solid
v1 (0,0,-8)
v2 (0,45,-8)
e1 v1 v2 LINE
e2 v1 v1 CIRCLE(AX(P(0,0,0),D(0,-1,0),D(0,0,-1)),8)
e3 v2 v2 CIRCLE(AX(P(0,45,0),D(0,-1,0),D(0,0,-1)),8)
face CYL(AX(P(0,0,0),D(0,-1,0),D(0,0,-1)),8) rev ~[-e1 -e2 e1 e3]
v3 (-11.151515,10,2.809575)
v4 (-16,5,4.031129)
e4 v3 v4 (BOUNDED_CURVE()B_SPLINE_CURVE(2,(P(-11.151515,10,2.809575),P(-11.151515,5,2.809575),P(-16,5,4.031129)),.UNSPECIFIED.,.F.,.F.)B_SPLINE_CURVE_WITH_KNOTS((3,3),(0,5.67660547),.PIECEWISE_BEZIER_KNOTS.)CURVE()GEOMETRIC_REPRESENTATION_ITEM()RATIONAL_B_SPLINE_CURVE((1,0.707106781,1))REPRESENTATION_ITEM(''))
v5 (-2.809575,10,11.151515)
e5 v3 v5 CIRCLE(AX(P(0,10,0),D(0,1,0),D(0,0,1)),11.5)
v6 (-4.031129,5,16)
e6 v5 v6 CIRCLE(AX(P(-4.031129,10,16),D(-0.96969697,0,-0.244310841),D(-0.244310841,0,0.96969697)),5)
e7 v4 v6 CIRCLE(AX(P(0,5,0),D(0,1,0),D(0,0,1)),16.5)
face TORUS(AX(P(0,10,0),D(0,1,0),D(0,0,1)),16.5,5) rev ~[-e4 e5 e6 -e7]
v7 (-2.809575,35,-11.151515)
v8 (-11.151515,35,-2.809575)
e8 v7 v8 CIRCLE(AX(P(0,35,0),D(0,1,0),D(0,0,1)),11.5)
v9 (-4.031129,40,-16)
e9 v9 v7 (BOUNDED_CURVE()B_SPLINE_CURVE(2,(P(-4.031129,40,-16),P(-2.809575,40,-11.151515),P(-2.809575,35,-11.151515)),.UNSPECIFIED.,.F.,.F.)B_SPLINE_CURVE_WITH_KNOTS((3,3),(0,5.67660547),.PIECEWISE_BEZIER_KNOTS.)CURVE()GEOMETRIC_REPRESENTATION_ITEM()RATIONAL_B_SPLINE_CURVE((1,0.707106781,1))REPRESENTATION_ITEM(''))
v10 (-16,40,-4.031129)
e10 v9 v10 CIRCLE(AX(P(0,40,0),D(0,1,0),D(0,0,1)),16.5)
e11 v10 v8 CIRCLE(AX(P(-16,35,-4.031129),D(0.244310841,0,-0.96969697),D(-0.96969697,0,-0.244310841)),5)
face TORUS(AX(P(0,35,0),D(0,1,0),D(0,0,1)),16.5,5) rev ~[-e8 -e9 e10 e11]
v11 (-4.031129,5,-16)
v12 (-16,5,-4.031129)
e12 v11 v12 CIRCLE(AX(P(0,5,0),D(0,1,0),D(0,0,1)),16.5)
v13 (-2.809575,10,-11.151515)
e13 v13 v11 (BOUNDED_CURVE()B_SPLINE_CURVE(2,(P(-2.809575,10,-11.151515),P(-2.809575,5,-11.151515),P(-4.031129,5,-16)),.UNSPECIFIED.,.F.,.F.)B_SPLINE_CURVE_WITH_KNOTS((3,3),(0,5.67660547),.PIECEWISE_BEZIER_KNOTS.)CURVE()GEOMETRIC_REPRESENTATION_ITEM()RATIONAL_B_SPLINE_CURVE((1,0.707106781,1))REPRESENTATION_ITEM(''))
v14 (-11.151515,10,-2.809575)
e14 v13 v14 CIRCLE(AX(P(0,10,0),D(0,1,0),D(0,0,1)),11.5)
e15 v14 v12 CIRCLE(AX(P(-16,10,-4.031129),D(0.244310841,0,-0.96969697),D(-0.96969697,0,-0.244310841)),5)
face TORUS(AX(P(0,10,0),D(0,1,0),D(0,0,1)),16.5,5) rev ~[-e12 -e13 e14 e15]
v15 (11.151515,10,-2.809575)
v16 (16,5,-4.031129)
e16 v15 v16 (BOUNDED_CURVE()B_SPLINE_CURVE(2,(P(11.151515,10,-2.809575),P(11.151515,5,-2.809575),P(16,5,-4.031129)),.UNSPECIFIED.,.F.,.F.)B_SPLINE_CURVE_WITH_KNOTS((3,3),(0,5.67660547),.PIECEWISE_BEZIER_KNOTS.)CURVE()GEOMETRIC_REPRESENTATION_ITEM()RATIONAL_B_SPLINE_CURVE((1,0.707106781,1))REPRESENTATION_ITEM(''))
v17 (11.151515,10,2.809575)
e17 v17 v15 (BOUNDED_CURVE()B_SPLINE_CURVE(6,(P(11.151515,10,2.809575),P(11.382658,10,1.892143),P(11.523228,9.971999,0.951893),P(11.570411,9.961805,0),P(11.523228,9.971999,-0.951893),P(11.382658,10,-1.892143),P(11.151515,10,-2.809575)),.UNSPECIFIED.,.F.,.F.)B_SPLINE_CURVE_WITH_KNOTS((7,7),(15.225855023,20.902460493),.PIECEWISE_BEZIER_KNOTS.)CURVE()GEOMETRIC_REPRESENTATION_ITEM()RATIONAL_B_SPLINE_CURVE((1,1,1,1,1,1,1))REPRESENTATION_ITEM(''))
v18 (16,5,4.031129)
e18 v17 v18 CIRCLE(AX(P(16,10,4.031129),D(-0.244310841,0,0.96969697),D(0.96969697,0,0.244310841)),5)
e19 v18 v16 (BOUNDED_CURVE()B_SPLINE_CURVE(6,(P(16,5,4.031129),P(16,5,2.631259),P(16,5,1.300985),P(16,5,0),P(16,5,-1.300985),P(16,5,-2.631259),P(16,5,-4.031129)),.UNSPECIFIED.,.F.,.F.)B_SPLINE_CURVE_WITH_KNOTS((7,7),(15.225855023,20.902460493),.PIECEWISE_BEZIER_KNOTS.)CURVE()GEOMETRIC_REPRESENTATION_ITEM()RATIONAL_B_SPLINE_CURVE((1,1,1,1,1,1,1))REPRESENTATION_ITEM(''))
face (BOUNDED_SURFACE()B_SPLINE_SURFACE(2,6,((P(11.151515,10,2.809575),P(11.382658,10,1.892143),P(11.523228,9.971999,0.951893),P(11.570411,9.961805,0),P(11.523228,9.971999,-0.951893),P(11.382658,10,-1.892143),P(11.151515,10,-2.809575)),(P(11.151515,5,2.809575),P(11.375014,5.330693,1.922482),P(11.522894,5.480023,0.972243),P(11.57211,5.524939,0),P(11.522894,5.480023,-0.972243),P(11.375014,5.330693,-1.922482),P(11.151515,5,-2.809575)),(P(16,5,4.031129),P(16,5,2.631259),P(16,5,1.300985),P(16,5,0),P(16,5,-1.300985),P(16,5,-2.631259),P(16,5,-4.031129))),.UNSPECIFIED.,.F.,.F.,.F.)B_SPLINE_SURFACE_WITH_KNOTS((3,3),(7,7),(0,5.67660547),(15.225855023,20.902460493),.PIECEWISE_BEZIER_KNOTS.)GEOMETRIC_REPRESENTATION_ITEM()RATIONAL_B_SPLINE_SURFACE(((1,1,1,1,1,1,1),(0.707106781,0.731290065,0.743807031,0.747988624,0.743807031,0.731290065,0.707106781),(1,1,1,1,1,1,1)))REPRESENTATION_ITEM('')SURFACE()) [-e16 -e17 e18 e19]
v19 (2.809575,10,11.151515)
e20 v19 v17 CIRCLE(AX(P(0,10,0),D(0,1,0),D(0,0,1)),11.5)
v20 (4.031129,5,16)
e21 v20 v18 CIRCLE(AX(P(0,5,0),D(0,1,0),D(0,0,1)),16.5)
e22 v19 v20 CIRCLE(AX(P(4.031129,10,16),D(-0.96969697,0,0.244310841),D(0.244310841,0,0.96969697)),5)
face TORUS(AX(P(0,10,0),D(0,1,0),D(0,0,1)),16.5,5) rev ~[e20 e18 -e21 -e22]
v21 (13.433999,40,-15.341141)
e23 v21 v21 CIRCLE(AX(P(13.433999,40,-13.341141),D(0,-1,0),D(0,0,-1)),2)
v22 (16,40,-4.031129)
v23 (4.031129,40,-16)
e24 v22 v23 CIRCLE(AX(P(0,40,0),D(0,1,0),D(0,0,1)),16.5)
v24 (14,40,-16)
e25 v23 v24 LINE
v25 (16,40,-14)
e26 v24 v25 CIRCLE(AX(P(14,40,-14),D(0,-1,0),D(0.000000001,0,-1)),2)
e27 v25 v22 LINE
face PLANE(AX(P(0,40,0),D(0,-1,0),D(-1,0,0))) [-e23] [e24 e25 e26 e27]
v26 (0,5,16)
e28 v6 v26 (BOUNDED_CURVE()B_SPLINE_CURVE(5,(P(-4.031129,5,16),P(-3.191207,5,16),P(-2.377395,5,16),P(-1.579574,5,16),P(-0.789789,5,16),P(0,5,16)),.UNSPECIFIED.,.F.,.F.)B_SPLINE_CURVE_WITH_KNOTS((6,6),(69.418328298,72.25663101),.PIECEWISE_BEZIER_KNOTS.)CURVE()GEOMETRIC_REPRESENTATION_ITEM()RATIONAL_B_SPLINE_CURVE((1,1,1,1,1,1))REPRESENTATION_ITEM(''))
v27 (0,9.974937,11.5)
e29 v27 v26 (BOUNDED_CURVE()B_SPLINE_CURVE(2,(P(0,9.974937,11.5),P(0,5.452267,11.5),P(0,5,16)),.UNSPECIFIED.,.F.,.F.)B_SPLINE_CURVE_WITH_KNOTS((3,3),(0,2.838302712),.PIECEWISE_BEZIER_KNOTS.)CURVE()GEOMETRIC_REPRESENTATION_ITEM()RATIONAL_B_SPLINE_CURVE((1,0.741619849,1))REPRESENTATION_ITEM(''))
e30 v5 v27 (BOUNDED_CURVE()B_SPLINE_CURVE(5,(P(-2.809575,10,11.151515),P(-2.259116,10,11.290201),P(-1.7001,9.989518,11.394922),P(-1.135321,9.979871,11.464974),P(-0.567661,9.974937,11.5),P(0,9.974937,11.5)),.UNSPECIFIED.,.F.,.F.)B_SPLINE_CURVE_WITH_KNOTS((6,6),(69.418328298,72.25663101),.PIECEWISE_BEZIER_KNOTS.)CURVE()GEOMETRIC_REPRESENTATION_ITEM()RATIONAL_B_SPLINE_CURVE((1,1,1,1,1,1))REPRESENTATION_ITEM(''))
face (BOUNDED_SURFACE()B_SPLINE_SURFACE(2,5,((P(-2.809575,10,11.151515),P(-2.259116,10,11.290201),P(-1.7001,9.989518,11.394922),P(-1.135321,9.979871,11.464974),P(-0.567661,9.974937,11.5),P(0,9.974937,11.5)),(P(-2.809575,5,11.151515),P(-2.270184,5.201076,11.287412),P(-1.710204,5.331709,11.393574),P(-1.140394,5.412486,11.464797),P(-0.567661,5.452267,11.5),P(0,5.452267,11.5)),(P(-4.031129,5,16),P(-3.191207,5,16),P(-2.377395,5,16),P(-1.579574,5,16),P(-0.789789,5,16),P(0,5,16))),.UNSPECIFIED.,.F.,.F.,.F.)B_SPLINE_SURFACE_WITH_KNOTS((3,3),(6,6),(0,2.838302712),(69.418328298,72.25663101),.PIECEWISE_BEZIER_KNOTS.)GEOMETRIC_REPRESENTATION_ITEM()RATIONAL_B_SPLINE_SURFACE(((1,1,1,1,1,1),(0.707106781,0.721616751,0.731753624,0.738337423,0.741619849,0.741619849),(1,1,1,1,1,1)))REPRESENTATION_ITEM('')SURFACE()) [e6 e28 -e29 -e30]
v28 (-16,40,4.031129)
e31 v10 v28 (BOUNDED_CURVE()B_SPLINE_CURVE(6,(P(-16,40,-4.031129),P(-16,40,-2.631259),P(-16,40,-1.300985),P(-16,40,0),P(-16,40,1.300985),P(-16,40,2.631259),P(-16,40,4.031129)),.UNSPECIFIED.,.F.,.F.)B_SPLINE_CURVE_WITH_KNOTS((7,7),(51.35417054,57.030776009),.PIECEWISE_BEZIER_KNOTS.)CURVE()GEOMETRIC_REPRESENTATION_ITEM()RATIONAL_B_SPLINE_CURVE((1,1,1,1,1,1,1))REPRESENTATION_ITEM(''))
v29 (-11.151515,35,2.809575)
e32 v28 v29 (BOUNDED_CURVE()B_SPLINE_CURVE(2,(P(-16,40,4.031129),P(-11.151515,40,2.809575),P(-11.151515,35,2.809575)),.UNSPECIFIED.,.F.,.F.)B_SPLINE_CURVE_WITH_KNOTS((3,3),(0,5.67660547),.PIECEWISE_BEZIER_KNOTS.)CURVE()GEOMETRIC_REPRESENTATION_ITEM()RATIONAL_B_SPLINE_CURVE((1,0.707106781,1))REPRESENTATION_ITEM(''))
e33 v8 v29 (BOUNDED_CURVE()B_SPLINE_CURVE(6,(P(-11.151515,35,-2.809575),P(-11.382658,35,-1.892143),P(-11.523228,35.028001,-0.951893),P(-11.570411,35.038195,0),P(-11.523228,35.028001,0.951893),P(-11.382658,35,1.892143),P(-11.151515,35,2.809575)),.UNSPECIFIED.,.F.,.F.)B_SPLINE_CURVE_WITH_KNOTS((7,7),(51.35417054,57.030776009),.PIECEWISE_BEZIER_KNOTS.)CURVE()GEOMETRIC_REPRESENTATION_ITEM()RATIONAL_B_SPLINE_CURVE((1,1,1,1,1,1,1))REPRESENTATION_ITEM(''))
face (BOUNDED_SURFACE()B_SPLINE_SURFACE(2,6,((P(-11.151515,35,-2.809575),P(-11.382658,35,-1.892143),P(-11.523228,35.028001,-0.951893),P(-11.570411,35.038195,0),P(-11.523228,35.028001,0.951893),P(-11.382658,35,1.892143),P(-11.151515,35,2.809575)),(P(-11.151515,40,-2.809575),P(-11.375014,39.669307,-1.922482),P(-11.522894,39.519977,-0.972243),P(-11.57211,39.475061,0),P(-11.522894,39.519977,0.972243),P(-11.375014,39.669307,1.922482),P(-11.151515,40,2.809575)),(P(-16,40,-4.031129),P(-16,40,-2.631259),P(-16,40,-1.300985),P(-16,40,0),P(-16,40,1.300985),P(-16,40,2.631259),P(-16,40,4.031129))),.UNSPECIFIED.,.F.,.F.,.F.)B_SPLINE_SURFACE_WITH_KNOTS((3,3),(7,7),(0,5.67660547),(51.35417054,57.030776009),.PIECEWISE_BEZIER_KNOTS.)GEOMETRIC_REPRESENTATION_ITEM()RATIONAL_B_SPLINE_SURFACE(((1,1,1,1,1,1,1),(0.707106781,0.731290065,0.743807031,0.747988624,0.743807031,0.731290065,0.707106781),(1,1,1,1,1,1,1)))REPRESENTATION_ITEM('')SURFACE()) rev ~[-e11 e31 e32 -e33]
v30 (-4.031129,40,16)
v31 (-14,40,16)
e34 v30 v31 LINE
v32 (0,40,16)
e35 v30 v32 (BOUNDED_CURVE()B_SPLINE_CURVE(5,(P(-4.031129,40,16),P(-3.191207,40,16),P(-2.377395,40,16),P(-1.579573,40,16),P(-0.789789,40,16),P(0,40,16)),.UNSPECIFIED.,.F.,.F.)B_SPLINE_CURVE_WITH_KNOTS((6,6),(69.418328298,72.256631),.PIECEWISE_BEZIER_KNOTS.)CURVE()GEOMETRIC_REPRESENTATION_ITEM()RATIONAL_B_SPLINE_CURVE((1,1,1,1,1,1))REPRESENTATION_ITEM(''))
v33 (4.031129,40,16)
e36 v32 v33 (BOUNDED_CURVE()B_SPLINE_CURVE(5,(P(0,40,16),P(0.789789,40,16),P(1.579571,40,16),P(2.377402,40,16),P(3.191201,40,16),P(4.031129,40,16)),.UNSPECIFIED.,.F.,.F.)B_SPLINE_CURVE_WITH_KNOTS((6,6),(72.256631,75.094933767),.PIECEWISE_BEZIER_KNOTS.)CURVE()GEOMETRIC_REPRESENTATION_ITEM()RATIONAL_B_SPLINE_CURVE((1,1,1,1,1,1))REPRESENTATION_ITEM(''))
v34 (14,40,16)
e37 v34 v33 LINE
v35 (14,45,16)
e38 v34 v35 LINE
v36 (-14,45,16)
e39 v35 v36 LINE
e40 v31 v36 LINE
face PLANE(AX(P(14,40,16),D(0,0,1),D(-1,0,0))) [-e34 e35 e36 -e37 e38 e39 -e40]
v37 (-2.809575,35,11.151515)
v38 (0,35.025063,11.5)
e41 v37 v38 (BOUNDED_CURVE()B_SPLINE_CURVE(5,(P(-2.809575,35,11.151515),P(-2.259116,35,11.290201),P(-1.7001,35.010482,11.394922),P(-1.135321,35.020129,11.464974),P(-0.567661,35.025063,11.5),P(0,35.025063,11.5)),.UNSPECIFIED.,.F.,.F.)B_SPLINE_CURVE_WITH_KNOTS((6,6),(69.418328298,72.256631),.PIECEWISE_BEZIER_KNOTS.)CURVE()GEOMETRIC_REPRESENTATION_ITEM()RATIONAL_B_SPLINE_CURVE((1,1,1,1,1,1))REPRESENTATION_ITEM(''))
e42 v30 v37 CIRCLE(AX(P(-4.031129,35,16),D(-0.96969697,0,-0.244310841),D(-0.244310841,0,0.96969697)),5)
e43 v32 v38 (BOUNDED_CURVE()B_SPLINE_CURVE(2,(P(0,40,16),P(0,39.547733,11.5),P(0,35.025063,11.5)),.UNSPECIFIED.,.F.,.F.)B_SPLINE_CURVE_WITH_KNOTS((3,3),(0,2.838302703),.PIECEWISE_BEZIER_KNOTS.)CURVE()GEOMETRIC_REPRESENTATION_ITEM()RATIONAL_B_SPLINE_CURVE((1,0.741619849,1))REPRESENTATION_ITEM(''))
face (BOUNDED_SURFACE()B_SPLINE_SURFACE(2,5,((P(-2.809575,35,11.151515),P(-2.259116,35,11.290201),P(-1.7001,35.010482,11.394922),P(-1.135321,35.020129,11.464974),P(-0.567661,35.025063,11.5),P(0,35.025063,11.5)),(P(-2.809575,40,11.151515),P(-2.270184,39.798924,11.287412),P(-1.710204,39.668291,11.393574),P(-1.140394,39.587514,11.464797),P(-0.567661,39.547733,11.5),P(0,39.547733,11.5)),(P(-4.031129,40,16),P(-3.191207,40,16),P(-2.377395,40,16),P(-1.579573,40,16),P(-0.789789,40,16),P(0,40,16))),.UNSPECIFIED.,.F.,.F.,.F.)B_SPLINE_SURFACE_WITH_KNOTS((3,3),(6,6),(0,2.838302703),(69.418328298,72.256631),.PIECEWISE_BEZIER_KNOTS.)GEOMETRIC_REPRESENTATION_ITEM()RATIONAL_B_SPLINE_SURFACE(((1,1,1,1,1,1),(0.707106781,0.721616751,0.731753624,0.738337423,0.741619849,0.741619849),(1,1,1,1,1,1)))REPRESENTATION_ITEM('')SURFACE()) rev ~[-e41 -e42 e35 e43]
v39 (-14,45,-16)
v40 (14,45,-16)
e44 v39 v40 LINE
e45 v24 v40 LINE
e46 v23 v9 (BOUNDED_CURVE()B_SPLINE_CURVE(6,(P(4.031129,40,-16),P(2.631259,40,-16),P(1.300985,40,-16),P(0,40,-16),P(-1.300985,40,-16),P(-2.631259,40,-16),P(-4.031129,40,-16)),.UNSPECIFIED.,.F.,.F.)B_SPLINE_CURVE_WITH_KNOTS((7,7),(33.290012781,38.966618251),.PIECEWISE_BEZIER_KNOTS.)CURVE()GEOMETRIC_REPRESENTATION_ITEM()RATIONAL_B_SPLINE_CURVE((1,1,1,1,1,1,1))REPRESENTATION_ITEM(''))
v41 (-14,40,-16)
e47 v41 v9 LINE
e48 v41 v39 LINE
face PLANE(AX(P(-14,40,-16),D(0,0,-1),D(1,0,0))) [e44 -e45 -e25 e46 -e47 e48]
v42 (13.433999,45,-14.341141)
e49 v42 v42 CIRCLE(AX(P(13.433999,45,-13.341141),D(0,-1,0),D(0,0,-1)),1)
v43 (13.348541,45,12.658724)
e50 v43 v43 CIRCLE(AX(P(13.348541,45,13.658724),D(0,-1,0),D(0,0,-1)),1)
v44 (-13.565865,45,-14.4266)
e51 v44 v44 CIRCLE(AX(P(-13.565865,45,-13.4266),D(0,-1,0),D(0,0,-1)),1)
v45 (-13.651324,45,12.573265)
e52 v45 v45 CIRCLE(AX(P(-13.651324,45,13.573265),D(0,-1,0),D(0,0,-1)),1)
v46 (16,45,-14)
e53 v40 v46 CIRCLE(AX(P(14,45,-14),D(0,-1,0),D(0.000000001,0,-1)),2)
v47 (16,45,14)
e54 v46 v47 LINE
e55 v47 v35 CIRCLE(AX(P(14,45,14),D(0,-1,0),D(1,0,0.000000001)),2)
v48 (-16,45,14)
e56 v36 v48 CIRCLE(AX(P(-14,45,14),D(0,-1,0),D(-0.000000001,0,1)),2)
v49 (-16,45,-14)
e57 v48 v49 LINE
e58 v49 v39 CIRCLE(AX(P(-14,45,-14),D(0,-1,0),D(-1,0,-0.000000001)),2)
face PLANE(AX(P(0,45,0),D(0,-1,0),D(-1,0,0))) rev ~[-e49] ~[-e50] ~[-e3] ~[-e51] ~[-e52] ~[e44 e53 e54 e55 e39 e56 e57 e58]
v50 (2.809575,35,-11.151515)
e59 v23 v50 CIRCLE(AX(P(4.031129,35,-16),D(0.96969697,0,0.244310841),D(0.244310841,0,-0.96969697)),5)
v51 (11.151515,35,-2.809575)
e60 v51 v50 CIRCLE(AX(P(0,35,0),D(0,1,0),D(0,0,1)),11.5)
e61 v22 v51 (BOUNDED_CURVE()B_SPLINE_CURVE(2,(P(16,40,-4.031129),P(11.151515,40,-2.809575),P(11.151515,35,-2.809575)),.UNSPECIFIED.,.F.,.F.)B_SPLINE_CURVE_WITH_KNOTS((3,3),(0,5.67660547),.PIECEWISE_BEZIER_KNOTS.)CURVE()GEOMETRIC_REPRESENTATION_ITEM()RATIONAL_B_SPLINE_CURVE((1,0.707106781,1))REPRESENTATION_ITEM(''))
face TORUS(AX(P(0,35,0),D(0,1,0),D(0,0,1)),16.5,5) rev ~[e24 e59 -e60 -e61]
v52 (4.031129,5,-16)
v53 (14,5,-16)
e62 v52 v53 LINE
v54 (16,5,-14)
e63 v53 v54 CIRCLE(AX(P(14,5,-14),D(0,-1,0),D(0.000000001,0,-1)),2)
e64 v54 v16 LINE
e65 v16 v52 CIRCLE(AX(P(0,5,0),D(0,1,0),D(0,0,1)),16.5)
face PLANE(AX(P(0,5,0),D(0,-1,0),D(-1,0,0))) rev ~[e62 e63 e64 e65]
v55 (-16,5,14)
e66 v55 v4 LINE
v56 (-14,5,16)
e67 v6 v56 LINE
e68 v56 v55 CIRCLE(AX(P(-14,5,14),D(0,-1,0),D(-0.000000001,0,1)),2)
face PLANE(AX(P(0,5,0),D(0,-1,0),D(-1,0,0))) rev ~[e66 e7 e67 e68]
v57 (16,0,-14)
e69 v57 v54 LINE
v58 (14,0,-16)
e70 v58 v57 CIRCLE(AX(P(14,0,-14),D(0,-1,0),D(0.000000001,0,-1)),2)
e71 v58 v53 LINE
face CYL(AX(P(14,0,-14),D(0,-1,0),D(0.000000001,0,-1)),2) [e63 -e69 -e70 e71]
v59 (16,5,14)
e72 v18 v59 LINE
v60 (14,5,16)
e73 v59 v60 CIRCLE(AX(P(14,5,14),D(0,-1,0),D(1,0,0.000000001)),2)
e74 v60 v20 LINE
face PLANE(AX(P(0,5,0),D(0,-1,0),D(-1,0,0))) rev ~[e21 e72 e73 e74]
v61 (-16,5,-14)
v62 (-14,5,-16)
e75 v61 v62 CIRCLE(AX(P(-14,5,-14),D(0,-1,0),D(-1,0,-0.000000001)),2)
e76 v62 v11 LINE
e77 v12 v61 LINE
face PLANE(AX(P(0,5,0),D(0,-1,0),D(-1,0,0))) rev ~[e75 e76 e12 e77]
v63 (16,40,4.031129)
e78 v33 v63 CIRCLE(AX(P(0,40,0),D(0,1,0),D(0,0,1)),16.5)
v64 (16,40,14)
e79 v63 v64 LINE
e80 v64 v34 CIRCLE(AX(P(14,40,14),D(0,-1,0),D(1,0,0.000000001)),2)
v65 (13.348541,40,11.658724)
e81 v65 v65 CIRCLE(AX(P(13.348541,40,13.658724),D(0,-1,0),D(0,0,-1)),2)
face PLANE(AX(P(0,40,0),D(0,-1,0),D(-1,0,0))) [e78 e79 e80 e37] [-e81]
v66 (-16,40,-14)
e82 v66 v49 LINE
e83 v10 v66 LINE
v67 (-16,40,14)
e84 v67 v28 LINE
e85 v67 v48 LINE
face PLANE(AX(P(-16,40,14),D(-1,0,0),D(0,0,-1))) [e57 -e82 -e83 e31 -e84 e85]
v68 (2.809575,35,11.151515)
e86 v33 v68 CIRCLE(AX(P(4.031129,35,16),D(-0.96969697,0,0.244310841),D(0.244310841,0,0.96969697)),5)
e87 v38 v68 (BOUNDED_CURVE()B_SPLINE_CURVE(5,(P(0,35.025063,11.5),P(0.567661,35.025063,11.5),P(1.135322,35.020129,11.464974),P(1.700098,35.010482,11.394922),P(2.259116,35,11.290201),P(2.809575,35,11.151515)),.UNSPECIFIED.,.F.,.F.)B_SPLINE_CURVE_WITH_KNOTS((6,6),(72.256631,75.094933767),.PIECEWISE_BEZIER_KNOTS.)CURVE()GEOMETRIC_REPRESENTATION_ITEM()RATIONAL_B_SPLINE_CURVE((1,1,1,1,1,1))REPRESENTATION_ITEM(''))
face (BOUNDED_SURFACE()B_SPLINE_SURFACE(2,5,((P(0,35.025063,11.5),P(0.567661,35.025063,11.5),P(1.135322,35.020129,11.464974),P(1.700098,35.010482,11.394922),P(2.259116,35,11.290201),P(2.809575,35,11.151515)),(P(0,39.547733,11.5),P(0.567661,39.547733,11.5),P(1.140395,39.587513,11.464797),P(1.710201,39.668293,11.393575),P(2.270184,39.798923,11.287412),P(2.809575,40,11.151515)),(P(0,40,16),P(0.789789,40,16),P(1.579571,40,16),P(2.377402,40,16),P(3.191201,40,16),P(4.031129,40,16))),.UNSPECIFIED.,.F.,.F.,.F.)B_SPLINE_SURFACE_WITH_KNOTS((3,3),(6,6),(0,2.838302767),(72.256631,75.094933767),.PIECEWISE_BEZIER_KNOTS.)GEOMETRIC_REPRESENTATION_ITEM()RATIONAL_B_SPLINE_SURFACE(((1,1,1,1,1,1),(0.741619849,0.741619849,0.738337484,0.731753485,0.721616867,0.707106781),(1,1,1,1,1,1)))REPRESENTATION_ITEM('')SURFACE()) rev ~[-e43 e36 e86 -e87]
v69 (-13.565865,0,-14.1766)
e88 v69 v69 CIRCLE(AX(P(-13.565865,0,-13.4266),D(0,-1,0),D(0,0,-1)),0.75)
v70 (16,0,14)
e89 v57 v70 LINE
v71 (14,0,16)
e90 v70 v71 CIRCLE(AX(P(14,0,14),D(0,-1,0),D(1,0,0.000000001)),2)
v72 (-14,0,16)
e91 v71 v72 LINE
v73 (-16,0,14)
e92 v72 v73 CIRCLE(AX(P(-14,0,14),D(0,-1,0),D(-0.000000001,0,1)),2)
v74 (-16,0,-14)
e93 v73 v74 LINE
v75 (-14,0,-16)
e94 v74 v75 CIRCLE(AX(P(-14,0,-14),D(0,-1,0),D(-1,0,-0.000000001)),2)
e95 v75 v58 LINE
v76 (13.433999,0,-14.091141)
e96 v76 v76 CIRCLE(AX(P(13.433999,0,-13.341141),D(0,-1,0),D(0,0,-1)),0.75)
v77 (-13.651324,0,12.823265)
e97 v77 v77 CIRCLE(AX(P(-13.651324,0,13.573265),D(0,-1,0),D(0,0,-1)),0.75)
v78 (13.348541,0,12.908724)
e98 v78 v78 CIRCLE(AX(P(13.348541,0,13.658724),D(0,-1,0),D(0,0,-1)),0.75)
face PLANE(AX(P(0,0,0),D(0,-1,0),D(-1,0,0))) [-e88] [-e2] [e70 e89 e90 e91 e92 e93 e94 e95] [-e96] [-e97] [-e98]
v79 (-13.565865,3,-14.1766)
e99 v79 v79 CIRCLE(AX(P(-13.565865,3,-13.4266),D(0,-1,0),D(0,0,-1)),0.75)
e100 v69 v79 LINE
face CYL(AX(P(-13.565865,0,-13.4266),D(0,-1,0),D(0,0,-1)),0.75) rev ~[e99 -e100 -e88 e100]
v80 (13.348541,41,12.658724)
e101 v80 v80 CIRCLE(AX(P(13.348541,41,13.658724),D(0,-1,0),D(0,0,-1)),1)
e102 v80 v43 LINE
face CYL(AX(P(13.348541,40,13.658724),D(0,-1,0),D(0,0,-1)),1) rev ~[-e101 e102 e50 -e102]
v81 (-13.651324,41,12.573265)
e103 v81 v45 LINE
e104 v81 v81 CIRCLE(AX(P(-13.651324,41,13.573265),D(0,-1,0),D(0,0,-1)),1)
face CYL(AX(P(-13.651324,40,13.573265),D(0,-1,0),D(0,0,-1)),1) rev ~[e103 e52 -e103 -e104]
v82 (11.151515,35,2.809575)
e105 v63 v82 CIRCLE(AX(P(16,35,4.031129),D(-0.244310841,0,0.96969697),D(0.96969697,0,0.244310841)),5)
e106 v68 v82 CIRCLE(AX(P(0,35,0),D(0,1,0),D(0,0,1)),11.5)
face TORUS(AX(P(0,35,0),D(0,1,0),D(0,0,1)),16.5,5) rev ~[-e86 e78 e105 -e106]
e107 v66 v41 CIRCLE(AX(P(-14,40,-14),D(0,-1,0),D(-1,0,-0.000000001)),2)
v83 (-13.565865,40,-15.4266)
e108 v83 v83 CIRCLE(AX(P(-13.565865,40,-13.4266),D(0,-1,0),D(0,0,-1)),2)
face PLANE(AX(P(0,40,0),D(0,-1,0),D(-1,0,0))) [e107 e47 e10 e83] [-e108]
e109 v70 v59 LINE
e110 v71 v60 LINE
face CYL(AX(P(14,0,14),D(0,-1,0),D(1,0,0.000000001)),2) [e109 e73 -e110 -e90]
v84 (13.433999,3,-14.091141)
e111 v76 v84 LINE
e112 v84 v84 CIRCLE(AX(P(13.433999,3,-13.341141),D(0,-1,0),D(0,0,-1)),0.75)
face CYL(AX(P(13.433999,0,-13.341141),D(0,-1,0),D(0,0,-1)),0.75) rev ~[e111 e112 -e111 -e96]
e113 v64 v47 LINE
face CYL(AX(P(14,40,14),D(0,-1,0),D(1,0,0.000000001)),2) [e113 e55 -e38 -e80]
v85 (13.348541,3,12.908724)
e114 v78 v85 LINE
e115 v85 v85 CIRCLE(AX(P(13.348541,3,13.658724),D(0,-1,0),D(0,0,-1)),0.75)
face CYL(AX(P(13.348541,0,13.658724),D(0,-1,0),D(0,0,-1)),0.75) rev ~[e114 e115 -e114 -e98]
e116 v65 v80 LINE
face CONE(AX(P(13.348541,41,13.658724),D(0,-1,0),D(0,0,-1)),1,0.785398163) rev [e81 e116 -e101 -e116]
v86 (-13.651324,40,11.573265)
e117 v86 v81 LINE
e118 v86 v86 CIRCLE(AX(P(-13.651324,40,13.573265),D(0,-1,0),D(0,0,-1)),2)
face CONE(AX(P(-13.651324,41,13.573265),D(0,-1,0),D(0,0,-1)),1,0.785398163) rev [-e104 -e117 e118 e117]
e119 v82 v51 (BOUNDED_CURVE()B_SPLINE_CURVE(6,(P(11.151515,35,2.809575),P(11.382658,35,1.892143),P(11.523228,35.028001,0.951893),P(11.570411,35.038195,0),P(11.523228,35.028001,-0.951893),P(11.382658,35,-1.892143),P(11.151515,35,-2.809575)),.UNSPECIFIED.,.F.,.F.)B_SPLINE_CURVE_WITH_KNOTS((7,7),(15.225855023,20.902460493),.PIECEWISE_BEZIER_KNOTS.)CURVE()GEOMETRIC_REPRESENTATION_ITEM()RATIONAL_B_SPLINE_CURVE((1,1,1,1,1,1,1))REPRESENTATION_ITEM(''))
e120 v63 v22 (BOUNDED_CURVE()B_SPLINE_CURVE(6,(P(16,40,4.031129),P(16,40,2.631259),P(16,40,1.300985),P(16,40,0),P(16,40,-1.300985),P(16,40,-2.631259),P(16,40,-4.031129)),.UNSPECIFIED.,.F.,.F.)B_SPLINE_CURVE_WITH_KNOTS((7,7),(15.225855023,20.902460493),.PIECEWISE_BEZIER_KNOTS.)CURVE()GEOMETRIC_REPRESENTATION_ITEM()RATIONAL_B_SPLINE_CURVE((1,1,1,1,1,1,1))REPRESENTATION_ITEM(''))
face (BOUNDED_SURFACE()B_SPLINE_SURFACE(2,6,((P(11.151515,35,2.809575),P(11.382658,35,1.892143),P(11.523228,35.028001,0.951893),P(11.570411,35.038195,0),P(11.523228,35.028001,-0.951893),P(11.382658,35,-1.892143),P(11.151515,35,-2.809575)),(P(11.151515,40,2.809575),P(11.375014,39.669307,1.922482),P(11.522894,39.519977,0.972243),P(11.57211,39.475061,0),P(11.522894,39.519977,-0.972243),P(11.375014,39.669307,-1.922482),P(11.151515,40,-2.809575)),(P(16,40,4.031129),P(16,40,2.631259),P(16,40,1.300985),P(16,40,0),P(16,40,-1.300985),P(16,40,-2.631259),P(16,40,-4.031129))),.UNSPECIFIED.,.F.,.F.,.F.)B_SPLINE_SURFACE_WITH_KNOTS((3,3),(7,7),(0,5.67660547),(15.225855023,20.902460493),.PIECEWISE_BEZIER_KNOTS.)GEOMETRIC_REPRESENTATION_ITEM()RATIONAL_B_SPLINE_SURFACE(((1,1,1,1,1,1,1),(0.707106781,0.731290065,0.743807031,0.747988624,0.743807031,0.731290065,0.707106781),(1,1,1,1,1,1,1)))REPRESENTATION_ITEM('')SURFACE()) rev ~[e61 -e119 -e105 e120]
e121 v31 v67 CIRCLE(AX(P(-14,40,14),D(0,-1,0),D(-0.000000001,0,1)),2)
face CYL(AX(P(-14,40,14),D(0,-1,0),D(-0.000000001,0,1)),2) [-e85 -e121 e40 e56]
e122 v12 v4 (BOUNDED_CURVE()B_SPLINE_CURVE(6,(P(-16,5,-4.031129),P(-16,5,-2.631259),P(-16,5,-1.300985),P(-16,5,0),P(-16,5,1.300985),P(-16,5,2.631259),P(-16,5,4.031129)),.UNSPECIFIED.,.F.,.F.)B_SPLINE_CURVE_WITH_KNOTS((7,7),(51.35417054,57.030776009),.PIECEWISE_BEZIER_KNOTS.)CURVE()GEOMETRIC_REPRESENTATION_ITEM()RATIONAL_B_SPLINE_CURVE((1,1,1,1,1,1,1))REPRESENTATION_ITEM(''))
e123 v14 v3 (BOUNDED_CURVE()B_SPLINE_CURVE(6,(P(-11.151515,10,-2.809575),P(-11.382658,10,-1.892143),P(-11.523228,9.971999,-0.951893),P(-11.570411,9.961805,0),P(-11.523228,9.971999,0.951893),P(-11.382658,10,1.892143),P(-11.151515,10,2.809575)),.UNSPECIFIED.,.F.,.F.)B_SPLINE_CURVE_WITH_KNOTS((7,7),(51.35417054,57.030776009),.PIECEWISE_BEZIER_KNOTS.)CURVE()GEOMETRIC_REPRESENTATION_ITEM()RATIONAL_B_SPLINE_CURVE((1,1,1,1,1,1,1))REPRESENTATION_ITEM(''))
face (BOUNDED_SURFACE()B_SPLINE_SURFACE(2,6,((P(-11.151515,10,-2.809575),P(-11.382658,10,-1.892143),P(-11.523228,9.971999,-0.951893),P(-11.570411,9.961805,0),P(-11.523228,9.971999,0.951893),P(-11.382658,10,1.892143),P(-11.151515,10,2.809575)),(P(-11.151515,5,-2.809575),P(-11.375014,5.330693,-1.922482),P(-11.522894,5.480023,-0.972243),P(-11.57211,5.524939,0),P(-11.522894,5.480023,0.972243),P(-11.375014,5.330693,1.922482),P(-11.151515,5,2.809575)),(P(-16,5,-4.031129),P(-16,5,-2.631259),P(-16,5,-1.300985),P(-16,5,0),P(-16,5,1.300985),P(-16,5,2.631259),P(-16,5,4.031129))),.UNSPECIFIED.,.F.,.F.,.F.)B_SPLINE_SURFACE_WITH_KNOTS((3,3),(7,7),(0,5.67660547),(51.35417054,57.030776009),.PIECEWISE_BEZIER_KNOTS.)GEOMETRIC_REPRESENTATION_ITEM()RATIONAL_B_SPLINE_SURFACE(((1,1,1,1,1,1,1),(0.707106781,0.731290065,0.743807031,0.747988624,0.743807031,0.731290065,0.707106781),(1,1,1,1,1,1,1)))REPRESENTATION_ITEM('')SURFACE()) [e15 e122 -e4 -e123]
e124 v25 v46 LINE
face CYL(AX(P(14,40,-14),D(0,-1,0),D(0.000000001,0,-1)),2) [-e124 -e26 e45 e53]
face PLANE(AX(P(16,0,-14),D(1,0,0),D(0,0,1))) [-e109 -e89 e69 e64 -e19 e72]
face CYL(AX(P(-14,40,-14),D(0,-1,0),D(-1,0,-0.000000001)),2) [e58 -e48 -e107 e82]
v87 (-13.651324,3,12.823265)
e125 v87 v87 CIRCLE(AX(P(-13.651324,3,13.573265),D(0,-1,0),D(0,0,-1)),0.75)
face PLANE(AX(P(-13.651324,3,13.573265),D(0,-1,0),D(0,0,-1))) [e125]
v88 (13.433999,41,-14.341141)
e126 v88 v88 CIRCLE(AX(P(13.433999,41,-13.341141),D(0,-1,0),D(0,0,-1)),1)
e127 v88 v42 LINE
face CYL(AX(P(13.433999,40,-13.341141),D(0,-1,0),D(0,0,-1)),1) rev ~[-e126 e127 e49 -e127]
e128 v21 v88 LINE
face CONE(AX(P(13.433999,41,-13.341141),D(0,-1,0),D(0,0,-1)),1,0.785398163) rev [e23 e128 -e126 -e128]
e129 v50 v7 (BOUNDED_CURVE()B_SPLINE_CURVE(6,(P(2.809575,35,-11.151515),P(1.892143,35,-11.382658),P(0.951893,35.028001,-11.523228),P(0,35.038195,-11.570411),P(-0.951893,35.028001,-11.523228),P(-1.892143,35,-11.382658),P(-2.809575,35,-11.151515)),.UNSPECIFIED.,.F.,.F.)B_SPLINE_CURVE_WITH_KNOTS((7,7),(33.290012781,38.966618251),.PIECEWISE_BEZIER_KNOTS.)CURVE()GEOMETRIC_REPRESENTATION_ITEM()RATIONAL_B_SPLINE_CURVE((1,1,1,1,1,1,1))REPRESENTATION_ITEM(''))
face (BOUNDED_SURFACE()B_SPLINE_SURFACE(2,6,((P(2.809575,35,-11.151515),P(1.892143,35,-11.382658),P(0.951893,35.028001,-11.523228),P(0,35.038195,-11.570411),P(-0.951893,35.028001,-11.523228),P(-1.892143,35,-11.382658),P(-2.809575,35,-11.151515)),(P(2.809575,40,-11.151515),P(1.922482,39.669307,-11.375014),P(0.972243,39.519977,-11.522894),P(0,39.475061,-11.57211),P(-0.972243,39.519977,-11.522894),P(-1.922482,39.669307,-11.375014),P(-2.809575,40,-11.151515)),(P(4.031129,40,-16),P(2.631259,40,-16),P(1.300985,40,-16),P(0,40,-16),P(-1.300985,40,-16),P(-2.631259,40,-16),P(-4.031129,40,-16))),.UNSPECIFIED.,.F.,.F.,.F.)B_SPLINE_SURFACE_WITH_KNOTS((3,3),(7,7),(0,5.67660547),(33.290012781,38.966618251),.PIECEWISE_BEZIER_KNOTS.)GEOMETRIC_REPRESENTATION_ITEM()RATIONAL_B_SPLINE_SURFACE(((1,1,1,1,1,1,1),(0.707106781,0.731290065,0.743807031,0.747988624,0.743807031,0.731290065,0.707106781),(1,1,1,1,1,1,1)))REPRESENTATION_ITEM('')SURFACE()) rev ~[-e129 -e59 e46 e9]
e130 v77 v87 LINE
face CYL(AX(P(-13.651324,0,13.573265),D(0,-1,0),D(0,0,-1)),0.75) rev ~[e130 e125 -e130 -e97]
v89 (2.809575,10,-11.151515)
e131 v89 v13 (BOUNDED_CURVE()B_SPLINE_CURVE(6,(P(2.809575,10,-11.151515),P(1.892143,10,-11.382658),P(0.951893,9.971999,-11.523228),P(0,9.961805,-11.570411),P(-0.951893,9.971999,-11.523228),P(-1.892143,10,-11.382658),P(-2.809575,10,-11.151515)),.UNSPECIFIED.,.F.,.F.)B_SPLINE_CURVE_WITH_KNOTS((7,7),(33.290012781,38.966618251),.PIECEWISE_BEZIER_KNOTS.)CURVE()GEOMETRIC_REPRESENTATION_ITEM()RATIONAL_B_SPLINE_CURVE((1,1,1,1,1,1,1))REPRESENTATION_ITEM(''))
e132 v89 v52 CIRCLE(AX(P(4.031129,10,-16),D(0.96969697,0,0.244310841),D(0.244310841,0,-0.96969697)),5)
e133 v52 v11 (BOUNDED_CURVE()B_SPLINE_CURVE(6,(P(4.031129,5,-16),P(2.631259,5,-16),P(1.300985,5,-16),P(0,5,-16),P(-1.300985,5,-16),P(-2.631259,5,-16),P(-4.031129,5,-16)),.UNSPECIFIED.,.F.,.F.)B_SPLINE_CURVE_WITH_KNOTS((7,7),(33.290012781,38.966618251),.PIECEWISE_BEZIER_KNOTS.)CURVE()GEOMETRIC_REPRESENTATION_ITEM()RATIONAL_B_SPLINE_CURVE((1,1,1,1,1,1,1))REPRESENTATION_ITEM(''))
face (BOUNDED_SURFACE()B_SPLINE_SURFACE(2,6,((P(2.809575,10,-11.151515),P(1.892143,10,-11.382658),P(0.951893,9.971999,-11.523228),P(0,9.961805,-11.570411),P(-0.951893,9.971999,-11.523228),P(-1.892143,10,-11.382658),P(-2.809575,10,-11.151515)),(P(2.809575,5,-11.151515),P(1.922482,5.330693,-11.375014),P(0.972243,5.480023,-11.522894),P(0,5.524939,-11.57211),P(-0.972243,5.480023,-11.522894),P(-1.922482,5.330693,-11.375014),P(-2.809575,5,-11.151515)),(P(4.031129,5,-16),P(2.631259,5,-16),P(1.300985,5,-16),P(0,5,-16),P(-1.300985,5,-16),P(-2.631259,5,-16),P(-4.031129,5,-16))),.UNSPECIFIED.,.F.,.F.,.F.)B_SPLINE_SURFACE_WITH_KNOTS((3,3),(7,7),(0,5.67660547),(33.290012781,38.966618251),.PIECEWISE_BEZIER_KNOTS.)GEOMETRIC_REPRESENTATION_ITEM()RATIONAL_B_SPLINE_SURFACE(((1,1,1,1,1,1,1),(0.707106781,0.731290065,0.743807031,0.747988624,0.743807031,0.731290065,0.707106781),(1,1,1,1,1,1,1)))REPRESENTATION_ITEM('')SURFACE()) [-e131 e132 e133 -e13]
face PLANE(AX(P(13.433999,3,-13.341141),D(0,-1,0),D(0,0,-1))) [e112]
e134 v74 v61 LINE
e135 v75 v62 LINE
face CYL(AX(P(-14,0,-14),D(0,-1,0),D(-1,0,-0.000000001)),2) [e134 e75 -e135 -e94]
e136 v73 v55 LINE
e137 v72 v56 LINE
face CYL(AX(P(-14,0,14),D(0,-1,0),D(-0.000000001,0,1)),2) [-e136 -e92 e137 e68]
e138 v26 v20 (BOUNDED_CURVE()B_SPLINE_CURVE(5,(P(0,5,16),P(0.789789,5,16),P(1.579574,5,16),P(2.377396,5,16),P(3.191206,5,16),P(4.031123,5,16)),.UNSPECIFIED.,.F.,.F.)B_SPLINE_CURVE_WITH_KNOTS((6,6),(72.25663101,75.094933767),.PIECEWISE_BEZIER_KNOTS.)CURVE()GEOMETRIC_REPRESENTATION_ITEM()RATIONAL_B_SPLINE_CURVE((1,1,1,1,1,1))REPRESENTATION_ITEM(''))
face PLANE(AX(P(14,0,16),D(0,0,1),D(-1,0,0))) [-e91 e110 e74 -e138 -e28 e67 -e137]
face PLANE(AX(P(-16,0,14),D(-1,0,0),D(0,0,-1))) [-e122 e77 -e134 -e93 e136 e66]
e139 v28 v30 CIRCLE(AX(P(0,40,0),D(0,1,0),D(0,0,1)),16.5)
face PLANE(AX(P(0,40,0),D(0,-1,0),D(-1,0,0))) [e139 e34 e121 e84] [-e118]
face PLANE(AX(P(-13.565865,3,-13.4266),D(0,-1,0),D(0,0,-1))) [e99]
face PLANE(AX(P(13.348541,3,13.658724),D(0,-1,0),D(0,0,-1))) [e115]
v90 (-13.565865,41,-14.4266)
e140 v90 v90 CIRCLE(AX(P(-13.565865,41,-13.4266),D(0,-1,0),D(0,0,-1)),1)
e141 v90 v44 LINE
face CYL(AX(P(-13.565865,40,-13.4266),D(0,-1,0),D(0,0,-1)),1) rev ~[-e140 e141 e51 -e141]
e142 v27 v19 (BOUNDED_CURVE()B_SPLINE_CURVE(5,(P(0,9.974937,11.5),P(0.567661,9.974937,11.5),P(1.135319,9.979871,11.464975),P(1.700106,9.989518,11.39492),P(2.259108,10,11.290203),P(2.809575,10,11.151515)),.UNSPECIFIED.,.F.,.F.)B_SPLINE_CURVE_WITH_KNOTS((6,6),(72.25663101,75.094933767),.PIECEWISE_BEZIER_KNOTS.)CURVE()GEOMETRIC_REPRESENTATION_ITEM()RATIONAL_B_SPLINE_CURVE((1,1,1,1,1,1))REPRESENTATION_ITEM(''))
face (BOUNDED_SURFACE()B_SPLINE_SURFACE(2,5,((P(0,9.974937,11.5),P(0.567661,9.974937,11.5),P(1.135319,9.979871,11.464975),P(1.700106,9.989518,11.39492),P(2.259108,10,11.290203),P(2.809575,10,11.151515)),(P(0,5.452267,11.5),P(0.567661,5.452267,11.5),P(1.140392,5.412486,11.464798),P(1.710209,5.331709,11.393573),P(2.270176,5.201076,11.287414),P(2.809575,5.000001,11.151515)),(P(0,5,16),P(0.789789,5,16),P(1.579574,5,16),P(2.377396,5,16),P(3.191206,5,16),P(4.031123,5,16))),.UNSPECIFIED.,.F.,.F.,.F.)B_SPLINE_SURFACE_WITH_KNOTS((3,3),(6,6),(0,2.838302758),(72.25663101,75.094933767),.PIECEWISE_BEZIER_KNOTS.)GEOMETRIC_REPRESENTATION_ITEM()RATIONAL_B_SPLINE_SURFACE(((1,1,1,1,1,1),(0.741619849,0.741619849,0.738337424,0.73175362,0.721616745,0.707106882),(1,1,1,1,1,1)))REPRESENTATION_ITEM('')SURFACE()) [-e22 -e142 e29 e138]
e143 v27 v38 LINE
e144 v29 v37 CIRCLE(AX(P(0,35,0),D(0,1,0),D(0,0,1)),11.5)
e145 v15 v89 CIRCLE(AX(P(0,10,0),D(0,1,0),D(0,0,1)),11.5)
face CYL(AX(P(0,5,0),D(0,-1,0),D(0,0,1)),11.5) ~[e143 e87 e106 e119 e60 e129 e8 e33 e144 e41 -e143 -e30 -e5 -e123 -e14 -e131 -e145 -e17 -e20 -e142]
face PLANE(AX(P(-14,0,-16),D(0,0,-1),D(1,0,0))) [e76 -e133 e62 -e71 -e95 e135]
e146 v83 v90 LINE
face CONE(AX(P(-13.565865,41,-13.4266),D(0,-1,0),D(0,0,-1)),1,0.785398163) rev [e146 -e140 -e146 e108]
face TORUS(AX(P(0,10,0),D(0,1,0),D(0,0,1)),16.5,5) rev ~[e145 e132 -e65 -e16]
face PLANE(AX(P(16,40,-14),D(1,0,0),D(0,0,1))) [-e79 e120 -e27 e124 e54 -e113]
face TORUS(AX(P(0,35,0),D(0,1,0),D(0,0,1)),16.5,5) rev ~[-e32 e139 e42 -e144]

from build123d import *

# Parameters (mm, degrees)
BOSS_EXTRUDE1_DEPTH = 5
SKETCH2_R           = 11.5
BOSS_EXTRUDE2_DEPTH = 35
BOSS_EXTRUDE3_DEPTH = 5
SKETCH4_R           = 0.75
CUT_EXTRUDE1_DEPTH  = 3
CUT_EXTRUDE2_REACH  = 47.957
SKETCH5_R           = 1
CHAMFER1_SIZE       = 1
CUT_EXTRUDE3_REACH  = 52.369
SKETCH6_R           = 8
FILLET2_R           = 5


with BuildPart() as part:
    # Sketch1 → Boss-Extrude1 (new body)
    with BuildSketch(Plane(origin=(0, 0, 0), x_dir=(1, 0, 0), z_dir=(0, 1, 0))):
        with BuildLine():
            Line((-14, 16), (14, 16))
            ThreePointArc((14, 16), (15.414213562, 15.414213562), (16, 14))
            Line((16, 14), (16, -14))
            ThreePointArc((16, -14), (15.414213562, -15.414213562), (14, -16))
            Line((14, -16), (-14, -16))
            ThreePointArc((-14, -16), (-15.414213562, -15.414213562), (-16, -14))
            Line((-16, -14), (-16, 14))
            ThreePointArc((-16, 14), (-15.414213562, 15.414213562), (-14, 16))
        make_face()
    extrude(amount=BOSS_EXTRUDE1_DEPTH)

    # Sketch2 → Boss-Extrude2 (add)
    with BuildSketch(Plane(origin=(0, 5, 0), x_dir=(1, 0, 0), z_dir=(0, 1, 0))):
        with Locations(Location((0, 0, 0), (0, 0, 270))):
            Circle(SKETCH2_R)
    extrude(amount=BOSS_EXTRUDE2_DEPTH)

    # Sketch3 → Boss-Extrude3 (add)
    with BuildSketch(Plane(origin=(0, 40, 0), x_dir=(1, 0, 0), z_dir=(0, 1, 0))):
        with BuildLine():
            Line((-14, 16), (14, 16))
            ThreePointArc((14, 16), (15.414213562, 15.414213562), (16, 14))
            Line((16, 14), (16, -14))
            ThreePointArc((16, -14), (15.414213562, -15.414213562), (14, -16))
            Line((14, -16), (-14, -16))
            ThreePointArc((-14, -16), (-15.414213562, -15.414213562), (-16, -14))
            Line((-16, -14), (-16, 14))
            ThreePointArc((-16, 14), (-15.414213562, 15.414213562), (-14, 16))
        make_face()
    extrude(amount=BOSS_EXTRUDE3_DEPTH)

    # Sketch4 → Cut-Extrude1 (cut)
    with BuildSketch(Plane.XZ):
        with Locations(Location((-13.651323601, 13.573265233, 0), (0, 0, 270))):
            Circle(SKETCH4_R)
        with Locations(Location((13.348541156, 13.658723546, 0), (0, 0, 270))):
            Circle(SKETCH4_R)
        with Locations(Location((13.43399947, -13.34114121, 0), (0, 0, 270))):
            Circle(SKETCH4_R)
        with Locations(Location((-13.565865287, -13.426599524, 0), (0, 0, 270))):
            Circle(SKETCH4_R)
    extrude(amount=-CUT_EXTRUDE1_DEPTH, mode=Mode.SUBTRACT)

    # Sketch5 → Cut-Extrude2 (cut, up to next)
    with BuildSketch(Plane.XZ.offset(-40), mode=Mode.PRIVATE) as cut_extrude2_sk1:
        with Locations(Location((-13.651323601, 13.573265233, 0), (0, 0, 270))):
            Circle(SKETCH5_R)
    cut_extrude2_tool1 = extrude(cut_extrude2_sk1.sketch, amount=-CUT_EXTRUDE2_REACH, mode=Mode.PRIVATE) & part.part
    # Sketch5 → Cut-Extrude2 (cut, up to next)
    with BuildSketch(Plane.XZ.offset(-40), mode=Mode.PRIVATE) as cut_extrude2_sk2:
        with Locations(Location((13.348541156, 13.658723546, 0), (0, 0, 270))):
            Circle(SKETCH5_R)
    cut_extrude2_tool2 = extrude(cut_extrude2_sk2.sketch, amount=-CUT_EXTRUDE2_REACH, mode=Mode.PRIVATE) & part.part
    # Sketch5 → Cut-Extrude2 (cut, up to next)
    with BuildSketch(Plane.XZ.offset(-40), mode=Mode.PRIVATE) as cut_extrude2_sk3:
        with Locations(Location((-13.565865287, -13.426599524, 0), (0, 0, 270))):
            Circle(SKETCH5_R)
    cut_extrude2_tool3 = extrude(cut_extrude2_sk3.sketch, amount=-CUT_EXTRUDE2_REACH, mode=Mode.PRIVATE) & part.part
    # Sketch5 → Cut-Extrude2 (cut, up to next)
    with BuildSketch(Plane.XZ.offset(-40), mode=Mode.PRIVATE) as cut_extrude2_sk4:
        with Locations(Location((13.43399947, -13.34114121, 0), (0, 0, 270))):
            Circle(SKETCH5_R)
    cut_extrude2_tool4 = extrude(cut_extrude2_sk4.sketch, amount=-CUT_EXTRUDE2_REACH, mode=Mode.PRIVATE) & part.part
    add(cut_extrude2_tool1.solids().sort_by_distance((-13.651324, 40, 13.573265))[0], mode=Mode.SUBTRACT)
    add(cut_extrude2_tool2.solids().sort_by_distance((13.348541, 40, 13.658724))[0], mode=Mode.SUBTRACT)
    add(cut_extrude2_tool3.solids().sort_by_distance((-13.565865, 40, -13.4266))[0], mode=Mode.SUBTRACT)
    add(cut_extrude2_tool4.solids().sort_by_distance((13.433999, 40, -13.341141))[0], mode=Mode.SUBTRACT)

    # Chamfer1
    chamfer1_edges = [part.edges().sort_by_distance(p)[0] for p in [
        (13.348541156, 40, 14.658723546),
        (-13.565865287, 40, -12.426599524),
        (13.43399947, 40, -12.34114121),
        (-13.651323601, 40, 14.573265233),
    ]]
    chamfer(chamfer1_edges, length=CHAMFER1_SIZE)

    # Sketch6 → Cut-Extrude3 (cut, up to next)
    with BuildSketch(Plane.XZ, mode=Mode.PRIVATE) as cut_extrude3_sk1:
        with Locations(Location((0, 0, 0), (0, 0, 270))):
            Circle(SKETCH6_R)
    cut_extrude3_tool1 = extrude(cut_extrude3_sk1.sketch, amount=-CUT_EXTRUDE3_REACH, mode=Mode.PRIVATE) & part.part
    add(cut_extrude3_tool1.solids().sort_by_distance((0, 0, 0))[0], mode=Mode.SUBTRACT)

    # Fillet2
    fillet2_edges = [part.edges().sort_by_distance(p)[0] for p in [
        (0, 5, -11.5),
        (0, 40, -11.5),
    ]]
    fillet(fillet2_edges, radius=FILLET2_R)


solid = part.part
